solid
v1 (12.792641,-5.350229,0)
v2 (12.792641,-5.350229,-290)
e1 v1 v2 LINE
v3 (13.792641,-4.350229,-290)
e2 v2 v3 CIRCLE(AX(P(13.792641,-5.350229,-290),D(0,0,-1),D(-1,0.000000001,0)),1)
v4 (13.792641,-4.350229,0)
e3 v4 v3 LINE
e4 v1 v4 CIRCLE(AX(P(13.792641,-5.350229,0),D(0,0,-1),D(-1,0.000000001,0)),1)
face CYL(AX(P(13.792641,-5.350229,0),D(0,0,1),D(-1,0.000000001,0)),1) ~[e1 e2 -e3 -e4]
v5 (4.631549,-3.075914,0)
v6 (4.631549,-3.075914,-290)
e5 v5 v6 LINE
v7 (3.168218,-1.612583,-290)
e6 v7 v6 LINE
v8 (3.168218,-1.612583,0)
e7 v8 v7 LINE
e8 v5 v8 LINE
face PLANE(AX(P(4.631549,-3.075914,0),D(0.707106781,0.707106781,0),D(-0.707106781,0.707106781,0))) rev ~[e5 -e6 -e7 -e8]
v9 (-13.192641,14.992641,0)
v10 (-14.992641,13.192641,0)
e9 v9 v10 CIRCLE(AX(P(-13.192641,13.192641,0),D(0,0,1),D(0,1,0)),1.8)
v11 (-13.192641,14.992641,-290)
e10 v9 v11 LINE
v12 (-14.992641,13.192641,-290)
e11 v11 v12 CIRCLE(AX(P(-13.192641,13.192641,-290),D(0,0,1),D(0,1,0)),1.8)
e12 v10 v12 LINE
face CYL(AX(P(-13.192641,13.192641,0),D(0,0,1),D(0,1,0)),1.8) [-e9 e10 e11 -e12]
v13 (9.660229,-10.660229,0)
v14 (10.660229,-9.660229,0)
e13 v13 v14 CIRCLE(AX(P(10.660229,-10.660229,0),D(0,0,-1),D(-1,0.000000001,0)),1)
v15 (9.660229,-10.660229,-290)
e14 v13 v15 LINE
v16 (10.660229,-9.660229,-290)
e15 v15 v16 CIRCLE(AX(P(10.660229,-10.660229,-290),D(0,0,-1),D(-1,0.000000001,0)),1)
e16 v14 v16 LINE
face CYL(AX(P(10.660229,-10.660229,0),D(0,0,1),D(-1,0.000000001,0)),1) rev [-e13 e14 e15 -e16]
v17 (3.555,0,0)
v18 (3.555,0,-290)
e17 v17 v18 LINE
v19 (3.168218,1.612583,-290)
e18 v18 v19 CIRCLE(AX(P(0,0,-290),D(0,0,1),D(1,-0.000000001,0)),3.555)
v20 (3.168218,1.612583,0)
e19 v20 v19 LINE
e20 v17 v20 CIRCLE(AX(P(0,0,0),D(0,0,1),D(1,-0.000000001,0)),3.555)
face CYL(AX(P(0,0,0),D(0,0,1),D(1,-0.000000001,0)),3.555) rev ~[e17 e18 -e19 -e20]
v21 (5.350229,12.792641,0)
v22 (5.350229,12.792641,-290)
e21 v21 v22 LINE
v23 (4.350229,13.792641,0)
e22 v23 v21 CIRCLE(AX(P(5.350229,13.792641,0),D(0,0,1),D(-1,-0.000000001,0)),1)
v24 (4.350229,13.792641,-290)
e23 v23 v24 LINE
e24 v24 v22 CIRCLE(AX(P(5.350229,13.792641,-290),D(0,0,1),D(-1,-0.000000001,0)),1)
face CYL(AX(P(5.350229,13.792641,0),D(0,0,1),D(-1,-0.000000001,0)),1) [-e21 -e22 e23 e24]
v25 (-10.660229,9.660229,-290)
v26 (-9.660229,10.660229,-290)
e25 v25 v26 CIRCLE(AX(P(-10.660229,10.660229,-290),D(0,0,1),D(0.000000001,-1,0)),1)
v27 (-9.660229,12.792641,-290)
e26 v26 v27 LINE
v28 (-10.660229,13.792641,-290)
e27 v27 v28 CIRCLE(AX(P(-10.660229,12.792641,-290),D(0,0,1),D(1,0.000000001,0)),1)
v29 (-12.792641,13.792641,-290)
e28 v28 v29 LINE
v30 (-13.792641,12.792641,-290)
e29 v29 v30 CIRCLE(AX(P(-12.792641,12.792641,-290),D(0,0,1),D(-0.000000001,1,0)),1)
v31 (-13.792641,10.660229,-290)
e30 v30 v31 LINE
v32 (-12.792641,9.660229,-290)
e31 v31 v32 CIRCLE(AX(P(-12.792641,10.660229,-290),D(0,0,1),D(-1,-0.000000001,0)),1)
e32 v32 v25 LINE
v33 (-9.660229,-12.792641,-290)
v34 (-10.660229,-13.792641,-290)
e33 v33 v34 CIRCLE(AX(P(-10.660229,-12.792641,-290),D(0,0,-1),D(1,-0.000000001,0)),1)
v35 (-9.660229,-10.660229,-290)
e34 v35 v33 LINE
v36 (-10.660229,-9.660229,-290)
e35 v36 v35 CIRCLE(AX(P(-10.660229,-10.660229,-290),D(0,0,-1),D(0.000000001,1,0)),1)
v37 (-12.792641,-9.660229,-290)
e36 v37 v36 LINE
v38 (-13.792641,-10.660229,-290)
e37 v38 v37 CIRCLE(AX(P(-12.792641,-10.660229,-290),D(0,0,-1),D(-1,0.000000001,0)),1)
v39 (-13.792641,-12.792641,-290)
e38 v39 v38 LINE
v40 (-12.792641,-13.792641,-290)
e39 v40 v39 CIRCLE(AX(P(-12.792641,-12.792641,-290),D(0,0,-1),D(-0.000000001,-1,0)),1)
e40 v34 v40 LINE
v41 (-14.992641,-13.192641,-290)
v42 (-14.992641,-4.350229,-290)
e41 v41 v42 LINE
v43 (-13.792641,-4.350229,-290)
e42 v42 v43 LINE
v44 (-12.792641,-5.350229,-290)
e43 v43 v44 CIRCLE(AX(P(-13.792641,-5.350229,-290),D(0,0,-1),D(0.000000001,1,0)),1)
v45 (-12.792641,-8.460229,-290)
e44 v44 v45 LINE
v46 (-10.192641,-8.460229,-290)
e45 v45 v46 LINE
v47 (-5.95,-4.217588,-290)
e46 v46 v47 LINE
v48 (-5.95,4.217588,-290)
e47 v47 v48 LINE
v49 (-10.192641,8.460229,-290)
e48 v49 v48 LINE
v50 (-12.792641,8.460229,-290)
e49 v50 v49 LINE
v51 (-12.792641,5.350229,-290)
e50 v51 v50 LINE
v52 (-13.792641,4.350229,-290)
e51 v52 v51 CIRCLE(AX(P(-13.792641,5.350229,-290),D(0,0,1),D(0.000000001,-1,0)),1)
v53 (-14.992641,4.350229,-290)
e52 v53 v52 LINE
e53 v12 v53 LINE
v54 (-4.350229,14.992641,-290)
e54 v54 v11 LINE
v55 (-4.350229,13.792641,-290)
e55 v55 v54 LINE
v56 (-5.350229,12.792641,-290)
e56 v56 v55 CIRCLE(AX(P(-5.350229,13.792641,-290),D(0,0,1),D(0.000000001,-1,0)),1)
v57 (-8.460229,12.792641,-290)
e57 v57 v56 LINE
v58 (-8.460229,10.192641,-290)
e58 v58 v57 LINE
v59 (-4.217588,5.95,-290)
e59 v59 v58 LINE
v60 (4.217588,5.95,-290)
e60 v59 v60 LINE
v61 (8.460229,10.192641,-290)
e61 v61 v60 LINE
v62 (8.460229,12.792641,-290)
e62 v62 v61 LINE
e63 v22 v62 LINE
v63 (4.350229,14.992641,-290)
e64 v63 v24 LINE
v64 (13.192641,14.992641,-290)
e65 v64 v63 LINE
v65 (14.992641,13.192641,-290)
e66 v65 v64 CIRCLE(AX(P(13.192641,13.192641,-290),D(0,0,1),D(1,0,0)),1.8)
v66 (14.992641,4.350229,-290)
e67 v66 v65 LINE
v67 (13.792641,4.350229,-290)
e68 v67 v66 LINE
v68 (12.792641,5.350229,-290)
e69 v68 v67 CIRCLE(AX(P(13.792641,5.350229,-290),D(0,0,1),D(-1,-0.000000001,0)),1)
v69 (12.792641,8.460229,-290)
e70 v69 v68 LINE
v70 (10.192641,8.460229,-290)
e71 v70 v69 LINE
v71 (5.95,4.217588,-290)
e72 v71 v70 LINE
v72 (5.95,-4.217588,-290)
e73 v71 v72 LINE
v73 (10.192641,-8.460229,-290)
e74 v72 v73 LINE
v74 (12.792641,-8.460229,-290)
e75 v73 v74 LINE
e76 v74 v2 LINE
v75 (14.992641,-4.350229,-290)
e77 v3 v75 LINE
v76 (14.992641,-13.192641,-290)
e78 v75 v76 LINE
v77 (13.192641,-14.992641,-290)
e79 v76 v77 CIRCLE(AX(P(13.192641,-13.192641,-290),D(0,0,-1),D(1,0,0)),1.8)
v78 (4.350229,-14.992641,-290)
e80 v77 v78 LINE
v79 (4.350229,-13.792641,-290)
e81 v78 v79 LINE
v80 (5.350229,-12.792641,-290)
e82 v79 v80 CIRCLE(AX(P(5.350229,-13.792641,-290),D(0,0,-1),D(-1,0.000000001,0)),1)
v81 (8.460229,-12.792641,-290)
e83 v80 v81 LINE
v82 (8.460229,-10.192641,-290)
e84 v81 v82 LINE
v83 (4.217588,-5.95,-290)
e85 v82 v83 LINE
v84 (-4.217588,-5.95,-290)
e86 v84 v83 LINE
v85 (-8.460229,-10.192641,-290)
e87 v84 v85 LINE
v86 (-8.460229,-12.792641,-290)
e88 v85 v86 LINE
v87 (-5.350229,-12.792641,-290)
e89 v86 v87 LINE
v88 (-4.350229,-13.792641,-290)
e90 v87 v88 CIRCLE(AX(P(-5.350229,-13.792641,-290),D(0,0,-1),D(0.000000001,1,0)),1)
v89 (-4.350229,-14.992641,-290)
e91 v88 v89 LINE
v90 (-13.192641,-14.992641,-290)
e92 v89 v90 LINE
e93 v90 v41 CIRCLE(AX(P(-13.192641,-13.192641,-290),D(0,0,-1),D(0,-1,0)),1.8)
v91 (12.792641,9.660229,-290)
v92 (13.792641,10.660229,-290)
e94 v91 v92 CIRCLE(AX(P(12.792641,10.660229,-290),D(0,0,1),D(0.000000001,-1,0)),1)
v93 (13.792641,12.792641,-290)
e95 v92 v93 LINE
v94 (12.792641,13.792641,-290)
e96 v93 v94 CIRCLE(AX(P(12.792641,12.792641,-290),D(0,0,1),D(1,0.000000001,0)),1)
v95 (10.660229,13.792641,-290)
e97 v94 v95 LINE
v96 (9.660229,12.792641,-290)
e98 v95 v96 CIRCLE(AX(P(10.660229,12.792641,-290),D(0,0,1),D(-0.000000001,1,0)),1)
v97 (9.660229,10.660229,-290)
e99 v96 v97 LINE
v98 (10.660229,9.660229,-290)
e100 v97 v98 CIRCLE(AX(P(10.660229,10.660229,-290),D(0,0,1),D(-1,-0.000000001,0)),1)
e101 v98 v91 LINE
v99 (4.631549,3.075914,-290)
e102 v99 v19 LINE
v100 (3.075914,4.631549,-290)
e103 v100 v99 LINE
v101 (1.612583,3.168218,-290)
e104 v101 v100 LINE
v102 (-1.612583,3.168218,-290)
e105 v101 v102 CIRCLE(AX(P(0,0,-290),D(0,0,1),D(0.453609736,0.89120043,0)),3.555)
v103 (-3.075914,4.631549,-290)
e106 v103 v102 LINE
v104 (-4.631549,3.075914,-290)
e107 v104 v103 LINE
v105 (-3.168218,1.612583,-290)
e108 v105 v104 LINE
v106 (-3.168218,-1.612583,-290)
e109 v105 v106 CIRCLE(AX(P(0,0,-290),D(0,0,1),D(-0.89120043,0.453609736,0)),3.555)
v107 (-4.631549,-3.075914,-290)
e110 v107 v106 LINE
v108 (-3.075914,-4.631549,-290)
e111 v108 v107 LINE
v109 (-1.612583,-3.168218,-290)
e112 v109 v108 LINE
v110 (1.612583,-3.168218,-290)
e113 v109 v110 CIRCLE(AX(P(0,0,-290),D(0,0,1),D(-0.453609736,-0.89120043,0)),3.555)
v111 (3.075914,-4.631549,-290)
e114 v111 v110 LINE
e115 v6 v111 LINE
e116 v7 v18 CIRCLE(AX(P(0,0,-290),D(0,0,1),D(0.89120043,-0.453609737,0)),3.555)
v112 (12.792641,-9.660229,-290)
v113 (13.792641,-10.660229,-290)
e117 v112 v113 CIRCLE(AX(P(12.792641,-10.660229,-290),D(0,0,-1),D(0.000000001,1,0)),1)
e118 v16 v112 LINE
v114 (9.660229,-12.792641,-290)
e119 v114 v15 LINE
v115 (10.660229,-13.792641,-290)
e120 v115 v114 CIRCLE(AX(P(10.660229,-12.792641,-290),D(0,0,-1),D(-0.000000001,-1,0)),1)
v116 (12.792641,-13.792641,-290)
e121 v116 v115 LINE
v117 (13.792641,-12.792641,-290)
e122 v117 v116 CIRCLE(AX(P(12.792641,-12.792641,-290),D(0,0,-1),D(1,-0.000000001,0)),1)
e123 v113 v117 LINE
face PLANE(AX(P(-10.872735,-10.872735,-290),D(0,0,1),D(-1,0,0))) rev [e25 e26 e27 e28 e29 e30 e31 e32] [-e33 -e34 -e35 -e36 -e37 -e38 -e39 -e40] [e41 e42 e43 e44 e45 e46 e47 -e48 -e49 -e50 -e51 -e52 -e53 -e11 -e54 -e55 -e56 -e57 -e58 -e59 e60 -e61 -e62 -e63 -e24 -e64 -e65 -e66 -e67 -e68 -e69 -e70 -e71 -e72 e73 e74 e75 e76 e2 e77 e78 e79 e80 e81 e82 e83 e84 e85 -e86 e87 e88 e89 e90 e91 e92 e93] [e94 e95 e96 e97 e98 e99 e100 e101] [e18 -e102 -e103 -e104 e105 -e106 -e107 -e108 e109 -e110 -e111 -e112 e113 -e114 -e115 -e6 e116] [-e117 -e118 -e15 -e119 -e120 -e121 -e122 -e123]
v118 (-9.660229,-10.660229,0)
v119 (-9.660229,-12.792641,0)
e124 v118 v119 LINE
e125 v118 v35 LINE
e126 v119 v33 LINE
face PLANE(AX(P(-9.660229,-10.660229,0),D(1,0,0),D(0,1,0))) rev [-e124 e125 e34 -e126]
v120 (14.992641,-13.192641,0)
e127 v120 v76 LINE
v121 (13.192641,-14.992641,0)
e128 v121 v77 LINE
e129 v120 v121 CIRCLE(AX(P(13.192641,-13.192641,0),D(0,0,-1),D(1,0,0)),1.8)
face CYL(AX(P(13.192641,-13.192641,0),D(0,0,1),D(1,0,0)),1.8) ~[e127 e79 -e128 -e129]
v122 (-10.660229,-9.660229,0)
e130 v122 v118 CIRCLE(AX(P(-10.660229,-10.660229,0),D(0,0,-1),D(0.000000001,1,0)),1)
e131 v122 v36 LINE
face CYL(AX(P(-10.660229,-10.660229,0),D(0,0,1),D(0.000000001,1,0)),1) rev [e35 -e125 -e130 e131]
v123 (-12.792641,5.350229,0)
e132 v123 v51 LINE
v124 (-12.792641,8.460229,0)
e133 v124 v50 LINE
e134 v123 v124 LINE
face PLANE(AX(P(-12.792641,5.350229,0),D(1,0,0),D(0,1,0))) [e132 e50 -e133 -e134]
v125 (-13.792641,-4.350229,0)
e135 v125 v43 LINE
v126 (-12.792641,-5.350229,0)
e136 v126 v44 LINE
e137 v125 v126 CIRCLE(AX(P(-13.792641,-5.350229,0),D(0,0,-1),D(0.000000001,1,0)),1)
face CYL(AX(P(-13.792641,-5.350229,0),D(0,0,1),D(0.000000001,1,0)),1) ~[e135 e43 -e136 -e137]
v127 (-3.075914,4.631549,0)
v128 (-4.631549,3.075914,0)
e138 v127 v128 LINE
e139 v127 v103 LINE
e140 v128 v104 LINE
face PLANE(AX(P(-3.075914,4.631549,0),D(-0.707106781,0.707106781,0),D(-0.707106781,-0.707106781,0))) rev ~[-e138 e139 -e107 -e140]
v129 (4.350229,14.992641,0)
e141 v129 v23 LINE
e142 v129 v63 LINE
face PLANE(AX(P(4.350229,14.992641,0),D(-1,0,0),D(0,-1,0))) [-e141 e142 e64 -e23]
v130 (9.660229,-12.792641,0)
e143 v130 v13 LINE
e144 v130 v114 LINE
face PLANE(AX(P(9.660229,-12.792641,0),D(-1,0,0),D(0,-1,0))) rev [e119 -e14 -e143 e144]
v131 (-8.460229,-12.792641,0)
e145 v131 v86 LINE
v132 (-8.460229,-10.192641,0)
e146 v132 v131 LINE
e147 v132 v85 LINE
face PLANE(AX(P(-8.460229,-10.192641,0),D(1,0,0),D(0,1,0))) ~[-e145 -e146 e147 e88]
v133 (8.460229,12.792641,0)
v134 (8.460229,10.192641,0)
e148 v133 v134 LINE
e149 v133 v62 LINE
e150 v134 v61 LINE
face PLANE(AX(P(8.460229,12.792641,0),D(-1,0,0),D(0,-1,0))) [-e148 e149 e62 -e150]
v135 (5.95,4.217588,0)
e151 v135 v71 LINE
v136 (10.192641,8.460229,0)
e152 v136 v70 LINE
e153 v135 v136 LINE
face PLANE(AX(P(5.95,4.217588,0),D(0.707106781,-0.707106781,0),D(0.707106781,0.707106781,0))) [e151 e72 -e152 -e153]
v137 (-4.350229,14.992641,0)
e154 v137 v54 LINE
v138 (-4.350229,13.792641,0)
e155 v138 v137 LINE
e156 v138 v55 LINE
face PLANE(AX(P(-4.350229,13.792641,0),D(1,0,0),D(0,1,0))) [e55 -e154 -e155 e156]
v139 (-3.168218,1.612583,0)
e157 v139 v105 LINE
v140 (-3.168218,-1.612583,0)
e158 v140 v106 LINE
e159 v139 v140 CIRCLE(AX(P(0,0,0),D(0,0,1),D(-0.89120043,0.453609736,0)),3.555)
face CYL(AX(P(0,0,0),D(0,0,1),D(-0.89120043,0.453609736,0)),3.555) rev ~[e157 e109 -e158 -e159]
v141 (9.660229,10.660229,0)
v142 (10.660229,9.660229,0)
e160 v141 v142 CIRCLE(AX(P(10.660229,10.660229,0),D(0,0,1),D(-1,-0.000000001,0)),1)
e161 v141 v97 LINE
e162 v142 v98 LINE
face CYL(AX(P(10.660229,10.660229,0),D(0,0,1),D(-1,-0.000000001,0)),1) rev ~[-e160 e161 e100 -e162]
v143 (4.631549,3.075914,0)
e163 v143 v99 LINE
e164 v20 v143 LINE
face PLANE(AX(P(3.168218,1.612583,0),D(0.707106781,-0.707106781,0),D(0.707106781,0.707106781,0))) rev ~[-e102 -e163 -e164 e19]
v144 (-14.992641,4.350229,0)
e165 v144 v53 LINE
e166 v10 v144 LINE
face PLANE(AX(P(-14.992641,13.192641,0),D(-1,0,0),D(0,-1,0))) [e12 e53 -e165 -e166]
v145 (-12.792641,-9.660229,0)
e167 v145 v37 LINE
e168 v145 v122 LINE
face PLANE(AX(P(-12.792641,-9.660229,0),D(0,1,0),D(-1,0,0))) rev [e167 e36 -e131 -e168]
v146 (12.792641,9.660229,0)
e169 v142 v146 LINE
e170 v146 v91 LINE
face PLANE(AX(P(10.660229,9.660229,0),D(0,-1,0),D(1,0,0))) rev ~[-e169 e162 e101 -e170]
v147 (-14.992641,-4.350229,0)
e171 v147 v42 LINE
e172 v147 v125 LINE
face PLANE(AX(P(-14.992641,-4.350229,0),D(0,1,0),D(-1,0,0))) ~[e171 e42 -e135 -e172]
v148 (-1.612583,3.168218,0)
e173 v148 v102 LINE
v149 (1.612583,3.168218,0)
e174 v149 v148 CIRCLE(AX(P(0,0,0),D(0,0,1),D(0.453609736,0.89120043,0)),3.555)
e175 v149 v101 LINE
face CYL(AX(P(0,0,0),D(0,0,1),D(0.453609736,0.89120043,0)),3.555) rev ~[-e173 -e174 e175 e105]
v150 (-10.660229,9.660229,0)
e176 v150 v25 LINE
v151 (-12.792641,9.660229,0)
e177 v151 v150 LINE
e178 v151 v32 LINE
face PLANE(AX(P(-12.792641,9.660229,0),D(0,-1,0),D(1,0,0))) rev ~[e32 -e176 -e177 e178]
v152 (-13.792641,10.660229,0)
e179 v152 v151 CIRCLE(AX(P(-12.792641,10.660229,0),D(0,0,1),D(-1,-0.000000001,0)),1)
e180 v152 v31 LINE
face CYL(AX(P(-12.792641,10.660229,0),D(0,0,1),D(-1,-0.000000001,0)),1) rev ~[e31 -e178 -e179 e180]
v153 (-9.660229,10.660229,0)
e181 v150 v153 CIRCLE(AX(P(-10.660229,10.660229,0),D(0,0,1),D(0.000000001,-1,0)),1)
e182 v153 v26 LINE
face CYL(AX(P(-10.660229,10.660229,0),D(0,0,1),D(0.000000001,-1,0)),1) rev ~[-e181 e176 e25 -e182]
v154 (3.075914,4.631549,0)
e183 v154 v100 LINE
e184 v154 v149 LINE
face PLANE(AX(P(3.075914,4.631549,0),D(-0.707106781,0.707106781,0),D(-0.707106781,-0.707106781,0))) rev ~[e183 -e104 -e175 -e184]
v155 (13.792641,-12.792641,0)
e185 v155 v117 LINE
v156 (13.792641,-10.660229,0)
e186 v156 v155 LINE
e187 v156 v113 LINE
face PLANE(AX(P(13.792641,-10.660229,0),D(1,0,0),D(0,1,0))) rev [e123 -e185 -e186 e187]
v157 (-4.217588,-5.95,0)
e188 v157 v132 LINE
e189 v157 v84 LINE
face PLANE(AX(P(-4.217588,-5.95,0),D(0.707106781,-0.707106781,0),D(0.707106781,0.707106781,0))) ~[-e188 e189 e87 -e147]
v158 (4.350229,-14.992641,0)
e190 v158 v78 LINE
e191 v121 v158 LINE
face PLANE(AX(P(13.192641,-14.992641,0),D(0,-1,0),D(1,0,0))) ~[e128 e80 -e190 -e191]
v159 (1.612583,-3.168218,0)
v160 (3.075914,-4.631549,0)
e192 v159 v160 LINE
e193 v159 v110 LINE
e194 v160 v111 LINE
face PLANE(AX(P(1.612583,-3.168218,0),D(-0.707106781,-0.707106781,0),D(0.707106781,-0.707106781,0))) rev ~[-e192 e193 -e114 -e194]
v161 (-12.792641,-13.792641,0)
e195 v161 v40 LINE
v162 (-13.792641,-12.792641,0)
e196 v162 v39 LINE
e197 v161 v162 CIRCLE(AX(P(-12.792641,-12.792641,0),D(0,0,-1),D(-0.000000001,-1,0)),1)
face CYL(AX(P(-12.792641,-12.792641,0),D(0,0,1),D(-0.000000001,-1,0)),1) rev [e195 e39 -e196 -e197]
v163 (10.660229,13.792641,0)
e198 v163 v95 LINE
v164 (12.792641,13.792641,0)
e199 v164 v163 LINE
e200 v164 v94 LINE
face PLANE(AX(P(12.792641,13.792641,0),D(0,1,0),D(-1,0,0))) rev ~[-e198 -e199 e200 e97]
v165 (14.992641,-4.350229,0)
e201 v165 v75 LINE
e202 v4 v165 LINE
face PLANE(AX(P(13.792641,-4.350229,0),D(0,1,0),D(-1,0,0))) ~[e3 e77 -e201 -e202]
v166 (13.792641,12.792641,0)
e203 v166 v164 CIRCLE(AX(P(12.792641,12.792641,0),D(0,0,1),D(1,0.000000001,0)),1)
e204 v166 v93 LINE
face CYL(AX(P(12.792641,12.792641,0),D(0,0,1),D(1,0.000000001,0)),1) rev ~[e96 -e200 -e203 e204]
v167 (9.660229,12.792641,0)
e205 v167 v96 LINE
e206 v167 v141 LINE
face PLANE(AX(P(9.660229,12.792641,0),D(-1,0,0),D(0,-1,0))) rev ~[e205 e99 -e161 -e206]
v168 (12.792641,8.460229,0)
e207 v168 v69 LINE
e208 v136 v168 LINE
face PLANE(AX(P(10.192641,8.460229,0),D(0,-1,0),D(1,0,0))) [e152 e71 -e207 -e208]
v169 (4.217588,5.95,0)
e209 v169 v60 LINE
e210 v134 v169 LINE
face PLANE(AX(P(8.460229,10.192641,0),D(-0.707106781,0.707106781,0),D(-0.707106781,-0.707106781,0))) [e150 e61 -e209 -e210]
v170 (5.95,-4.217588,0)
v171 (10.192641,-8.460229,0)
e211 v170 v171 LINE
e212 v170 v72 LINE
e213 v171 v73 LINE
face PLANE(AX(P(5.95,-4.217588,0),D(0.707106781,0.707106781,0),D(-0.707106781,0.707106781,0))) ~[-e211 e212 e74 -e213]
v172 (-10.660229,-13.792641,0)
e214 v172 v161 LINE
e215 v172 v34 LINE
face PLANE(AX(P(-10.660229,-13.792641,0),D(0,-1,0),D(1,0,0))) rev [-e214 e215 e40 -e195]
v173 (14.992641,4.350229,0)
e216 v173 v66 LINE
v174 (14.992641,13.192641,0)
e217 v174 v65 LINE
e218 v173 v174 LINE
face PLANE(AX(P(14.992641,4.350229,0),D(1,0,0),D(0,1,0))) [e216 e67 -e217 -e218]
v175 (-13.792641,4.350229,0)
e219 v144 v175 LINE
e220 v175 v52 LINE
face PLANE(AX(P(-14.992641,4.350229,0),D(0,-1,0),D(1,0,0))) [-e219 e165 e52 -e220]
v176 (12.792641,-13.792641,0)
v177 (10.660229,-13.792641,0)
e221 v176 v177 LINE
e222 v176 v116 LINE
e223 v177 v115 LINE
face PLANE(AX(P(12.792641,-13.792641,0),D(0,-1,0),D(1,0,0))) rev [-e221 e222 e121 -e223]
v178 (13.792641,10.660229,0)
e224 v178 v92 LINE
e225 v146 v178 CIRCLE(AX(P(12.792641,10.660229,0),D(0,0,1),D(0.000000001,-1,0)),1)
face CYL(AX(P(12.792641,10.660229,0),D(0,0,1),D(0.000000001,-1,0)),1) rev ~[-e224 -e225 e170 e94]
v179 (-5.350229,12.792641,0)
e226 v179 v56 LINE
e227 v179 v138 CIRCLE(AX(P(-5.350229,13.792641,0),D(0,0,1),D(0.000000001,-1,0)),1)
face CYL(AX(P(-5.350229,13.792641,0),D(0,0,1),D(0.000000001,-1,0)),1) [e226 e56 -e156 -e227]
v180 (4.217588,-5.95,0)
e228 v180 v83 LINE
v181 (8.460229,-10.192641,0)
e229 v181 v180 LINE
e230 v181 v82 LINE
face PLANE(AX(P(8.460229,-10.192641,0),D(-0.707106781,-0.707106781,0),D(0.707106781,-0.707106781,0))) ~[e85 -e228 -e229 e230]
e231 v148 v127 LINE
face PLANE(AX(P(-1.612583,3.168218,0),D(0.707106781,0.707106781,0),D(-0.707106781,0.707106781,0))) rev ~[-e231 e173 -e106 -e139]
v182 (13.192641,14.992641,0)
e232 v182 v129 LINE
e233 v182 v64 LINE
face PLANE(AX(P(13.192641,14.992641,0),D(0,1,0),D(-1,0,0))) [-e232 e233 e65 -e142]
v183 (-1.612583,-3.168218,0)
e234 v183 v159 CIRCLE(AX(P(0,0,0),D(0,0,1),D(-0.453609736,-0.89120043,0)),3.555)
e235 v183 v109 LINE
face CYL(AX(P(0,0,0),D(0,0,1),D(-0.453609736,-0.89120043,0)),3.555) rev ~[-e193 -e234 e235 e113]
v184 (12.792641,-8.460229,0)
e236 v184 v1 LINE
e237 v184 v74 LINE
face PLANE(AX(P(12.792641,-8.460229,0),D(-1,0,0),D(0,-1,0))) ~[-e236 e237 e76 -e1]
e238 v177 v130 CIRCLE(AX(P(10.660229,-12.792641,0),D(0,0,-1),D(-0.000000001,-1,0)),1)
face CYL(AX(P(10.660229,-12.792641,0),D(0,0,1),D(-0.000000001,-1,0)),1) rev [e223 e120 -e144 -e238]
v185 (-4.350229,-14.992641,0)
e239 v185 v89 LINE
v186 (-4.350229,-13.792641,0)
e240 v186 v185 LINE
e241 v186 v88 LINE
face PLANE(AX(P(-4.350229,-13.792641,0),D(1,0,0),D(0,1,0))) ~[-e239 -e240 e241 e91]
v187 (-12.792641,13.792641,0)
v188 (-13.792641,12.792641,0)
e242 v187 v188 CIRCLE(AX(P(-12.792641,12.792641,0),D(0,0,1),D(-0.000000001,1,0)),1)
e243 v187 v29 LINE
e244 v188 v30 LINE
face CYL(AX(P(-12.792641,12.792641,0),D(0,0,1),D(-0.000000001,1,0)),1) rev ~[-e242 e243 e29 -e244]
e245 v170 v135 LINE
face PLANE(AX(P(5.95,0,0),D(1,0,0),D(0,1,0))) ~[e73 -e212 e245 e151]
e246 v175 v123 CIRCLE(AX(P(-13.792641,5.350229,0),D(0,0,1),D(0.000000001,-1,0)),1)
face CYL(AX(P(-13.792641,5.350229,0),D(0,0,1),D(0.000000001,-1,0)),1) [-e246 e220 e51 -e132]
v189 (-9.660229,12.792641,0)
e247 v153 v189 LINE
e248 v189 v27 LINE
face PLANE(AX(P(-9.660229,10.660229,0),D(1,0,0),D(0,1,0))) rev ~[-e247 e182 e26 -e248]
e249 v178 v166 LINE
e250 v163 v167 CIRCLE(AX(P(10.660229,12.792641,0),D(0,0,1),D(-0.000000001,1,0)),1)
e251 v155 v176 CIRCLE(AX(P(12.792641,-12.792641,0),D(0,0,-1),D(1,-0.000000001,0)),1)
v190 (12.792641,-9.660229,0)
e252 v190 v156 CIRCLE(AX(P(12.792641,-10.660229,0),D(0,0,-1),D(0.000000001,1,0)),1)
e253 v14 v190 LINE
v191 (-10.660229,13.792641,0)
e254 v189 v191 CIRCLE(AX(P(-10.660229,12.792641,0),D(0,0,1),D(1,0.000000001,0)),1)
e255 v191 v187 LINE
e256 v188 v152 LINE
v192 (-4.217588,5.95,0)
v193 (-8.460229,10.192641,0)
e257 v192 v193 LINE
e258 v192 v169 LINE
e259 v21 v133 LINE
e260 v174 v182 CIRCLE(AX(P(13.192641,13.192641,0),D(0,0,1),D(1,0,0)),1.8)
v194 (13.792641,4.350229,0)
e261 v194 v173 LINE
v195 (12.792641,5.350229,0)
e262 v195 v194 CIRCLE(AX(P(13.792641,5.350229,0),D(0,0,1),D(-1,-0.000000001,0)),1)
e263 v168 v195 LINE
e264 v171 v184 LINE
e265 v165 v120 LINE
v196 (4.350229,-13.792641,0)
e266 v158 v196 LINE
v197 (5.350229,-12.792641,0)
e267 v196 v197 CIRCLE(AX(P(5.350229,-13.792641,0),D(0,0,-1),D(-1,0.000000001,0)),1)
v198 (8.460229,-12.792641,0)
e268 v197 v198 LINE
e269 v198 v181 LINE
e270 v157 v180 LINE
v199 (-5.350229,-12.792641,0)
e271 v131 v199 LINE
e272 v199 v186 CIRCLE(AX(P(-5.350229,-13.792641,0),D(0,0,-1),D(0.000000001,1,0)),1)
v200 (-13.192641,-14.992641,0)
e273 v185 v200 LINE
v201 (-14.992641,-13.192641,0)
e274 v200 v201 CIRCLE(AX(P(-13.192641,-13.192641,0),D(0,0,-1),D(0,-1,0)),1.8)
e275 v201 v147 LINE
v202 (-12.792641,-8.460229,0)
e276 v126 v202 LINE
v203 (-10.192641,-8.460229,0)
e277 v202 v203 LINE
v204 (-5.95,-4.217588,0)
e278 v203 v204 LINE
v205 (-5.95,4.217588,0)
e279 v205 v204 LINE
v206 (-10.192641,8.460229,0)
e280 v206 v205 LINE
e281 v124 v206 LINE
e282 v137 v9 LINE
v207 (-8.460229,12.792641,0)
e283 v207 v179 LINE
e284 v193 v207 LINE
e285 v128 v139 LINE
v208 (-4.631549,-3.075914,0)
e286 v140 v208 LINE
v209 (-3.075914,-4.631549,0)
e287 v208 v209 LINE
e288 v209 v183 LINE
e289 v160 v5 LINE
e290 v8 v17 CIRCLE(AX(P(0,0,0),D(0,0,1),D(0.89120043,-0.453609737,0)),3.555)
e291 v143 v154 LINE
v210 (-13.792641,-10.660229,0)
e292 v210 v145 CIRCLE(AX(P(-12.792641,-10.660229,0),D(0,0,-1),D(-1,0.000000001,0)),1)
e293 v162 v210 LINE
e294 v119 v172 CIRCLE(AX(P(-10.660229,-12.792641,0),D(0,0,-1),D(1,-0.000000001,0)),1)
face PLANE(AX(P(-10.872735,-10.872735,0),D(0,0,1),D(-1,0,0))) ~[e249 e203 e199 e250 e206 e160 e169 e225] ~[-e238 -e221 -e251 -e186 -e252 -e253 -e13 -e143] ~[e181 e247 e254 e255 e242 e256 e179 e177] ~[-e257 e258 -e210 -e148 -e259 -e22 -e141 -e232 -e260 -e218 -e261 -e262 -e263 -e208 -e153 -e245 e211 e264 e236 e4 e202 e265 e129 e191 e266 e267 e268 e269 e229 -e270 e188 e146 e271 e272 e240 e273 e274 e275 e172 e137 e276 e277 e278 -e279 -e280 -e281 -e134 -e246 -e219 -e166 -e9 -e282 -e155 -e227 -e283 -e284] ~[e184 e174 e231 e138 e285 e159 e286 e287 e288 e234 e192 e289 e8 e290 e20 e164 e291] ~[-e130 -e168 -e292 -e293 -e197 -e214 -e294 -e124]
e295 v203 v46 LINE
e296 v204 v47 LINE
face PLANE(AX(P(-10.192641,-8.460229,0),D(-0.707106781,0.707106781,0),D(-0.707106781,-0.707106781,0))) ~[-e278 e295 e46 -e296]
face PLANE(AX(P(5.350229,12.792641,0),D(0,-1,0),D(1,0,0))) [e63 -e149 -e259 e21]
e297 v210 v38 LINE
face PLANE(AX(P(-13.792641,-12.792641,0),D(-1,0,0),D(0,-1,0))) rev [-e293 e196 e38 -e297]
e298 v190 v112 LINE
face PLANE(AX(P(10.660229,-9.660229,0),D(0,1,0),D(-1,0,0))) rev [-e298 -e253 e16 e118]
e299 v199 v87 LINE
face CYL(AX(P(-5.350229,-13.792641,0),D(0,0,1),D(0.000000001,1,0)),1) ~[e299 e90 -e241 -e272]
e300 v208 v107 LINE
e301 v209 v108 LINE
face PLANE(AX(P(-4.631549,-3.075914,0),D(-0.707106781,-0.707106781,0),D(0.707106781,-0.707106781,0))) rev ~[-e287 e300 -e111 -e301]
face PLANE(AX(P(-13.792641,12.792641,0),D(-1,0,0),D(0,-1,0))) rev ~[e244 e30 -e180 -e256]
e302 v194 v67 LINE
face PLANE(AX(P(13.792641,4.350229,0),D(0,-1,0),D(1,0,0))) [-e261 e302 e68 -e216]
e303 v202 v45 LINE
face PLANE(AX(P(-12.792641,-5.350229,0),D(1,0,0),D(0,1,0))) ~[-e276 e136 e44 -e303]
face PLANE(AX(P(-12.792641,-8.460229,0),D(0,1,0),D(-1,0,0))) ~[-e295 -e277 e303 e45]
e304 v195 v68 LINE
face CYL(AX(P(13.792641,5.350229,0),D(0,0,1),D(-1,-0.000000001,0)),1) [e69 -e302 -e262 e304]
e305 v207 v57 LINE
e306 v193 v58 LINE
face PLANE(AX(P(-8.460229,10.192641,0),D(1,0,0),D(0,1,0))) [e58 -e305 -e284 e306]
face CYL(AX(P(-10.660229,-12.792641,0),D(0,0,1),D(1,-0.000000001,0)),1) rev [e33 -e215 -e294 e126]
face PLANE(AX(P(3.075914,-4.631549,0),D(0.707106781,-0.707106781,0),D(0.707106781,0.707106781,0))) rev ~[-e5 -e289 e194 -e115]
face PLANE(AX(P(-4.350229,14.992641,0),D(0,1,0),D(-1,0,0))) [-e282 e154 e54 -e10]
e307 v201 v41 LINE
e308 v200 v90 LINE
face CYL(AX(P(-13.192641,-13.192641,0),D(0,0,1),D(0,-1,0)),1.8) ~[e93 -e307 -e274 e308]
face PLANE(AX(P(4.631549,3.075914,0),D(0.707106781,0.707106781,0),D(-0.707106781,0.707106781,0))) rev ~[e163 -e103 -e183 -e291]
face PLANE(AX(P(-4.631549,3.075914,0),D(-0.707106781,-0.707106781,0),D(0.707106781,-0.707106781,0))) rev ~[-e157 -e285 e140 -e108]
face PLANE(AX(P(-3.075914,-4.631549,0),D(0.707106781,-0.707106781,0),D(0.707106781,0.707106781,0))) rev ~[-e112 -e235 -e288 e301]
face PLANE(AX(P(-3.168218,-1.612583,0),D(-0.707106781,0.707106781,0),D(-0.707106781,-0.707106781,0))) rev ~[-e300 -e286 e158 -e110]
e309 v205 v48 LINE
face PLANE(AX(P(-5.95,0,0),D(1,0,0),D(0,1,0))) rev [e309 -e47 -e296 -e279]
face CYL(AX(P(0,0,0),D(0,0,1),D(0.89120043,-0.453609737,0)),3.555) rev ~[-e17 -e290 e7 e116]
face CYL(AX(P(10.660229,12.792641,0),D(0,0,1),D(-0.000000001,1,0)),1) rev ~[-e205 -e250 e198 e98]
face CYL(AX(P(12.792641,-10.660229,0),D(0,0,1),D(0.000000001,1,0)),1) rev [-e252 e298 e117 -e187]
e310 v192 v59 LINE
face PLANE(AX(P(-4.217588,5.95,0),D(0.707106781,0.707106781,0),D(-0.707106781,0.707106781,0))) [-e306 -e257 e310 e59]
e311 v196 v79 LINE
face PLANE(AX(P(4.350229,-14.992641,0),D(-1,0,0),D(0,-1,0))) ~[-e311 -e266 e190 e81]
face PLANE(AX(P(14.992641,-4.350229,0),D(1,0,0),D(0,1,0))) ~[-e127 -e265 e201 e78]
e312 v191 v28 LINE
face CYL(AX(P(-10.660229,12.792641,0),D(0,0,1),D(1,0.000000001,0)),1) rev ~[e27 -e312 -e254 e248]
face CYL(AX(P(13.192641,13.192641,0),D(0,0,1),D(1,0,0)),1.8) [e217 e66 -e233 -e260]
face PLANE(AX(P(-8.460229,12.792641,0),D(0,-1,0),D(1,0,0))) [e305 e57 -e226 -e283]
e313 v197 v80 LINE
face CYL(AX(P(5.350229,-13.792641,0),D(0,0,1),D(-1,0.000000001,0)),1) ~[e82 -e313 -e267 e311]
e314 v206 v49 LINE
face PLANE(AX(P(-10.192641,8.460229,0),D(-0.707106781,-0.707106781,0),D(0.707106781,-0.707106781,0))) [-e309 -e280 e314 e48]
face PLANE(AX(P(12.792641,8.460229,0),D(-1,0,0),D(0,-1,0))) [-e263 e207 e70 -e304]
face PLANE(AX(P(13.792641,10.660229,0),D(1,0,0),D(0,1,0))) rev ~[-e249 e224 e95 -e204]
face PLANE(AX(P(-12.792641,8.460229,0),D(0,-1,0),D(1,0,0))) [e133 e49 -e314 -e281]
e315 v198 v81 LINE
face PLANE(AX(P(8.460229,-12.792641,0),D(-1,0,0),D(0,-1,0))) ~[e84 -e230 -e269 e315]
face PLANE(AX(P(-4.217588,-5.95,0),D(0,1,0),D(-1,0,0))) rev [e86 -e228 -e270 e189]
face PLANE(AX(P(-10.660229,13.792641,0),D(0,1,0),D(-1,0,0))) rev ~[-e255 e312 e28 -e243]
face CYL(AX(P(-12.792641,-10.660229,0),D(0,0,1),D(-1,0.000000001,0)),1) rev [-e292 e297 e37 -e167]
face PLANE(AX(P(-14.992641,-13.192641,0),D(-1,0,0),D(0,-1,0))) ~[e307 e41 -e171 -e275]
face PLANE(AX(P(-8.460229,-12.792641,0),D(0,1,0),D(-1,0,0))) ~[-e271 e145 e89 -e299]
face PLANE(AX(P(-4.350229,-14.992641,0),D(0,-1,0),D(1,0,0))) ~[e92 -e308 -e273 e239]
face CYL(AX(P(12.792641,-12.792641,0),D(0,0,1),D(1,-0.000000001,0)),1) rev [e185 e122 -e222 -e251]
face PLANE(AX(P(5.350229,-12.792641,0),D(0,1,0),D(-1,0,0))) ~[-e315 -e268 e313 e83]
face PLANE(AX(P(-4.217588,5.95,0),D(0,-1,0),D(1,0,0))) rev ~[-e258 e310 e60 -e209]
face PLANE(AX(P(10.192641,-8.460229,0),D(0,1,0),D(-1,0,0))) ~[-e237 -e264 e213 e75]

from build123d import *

# Parameters (mm, degrees)
SKETCH1_W           = 11.9
SKETCH1_H           = 5.95
BOSS_EXTRUDE1_DEPTH = 290
CUT_EXTRUDE1_DEPTH  = 291


with BuildPart() as part:
    # Sketch1 → Boss-Extrude1 (new body)
    with BuildSketch(Plane.XY):
        with BuildLine():
            Line((-4.350229073, 14.992640687), (-13.192640687, 14.992640687))
            ThreePointArc((-13.192640687, 14.992640687), (-14.465432893, 14.465432893), (-14.992640687, 13.192640687))
            Line((-14.992640687, 13.192640687), (-14.992640687, 4.350229073))
            Line((-14.992640687, 4.350229073), (-13.792640687, 4.350229073))
            ThreePointArc((-13.792640687, 4.350229073), (-13.085533906, 4.643122292), (-12.792640687, 5.350229073))
            Line((-12.792640687, 5.350229073), (-12.792640687, 8.460229073))
            Line((-12.792640687, 8.460229073), (-8.460229073, 8.460229073))
            Line((-8.460229073, 8.460229073), (-8.460229073, 12.792640687))
            Line((-8.460229073, 12.792640687), (-5.350229073, 12.792640687))
            ThreePointArc((-5.350229073, 12.792640687), (-4.643122292, 13.085533906), (-4.350229073, 13.792640687))
            Line((-4.350229073, 13.792640687), (-4.350229073, 14.992640687))
        make_face()
        with BuildLine():
            Line((-10.660229073, 13.792640687), (-12.792640687, 13.792640687))
            ThreePointArc((-12.792640687, 13.792640687), (-13.499747468, 13.499747468), (-13.792640687, 12.792640687))
            Line((-13.792640687, 12.792640687), (-13.792640687, 10.660229073))
            ThreePointArc((-13.792640687, 10.660229073), (-13.499747468, 9.953122292), (-12.792640687, 9.660229073))
            Line((-12.792640687, 9.660229073), (-10.660229073, 9.660229073))
            ThreePointArc((-10.660229073, 9.660229073), (-9.953122292, 9.953122292), (-9.660229073, 10.660229073))
            Line((-9.660229073, 10.660229073), (-9.660229073, 12.792640687))
            ThreePointArc((-9.660229073, 12.792640687), (-9.953122292, 13.499747468), (-10.660229073, 13.792640687))
        make_face(mode=Mode.SUBTRACT)
        Polygon((-5.95, 4.217588386), (-5.95, 5.95), (-4.217588386, 5.95), (-8.460229073, 10.192640687), (-8.460229073, 8.460229073), (-10.192640687, 8.460229073), align=None)
        with Locations((0, 2.975)):
            Rectangle(SKETCH1_W, SKETCH1_H)
        Polygon((8.460229073, 10.192640687), (4.217588386, 5.95), (5.95, 5.95), (5.95, 4.217588386), (10.192640687, 8.460229073), (8.460229073, 8.460229073), align=None)
        with BuildLine():
            Line((12.792640687, 8.460229073), (12.792640687, 5.350229073))
            ThreePointArc((12.792640687, 5.350229073), (13.085533906, 4.643122292), (13.792640687, 4.350229073))
            Line((13.792640687, 4.350229073), (14.992640687, 4.350229073))
            Line((14.992640687, 4.350229073), (14.992640687, 13.192640687))
            ThreePointArc((14.992640687, 13.192640687), (14.465432893, 14.465432893), (13.192640687, 14.992640687))
            Line((13.192640687, 14.992640687), (4.350229073, 14.992640687))
            Line((4.350229073, 14.992640687), (4.350229073, 13.792640687))
            ThreePointArc((4.350229073, 13.792640687), (4.643122292, 13.085533906), (5.350229073, 12.792640687))
            Line((5.350229073, 12.792640687), (8.460229073, 12.792640687))
            Line((8.460229073, 12.792640687), (8.460229073, 8.460229073))
            Line((8.460229073, 8.460229073), (12.792640687, 8.460229073))
        make_face()
        with BuildLine():
            ThreePointArc((9.660229073, 10.660229073), (9.953122292, 9.953122292), (10.660229073, 9.660229073))
            Line((10.660229073, 9.660229073), (12.792640687, 9.660229073))
            ThreePointArc((12.792640687, 9.660229073), (13.499747468, 9.953122292), (13.792640687, 10.660229073))
            Line((13.792640687, 10.660229073), (13.792640687, 12.792640687))
            ThreePointArc((13.792640687, 12.792640687), (13.499747468, 13.499747468), (12.792640687, 13.792640687))
            Line((12.792640687, 13.792640687), (10.660229073, 13.792640687))
            ThreePointArc((10.660229073, 13.792640687), (9.953122292, 13.499747468), (9.660229073, 12.792640687))
            Line((9.660229073, 12.792640687), (9.660229073, 10.660229073))
        make_face(mode=Mode.SUBTRACT)
    extrude(amount=-BOSS_EXTRUDE1_DEPTH)

    # Mirror1: part across plane


with BuildPart() as part_1:
    add(part.part)
    add(part.part.mirror(Plane(origin=(0, 0, -290), x_dir=(0, 0, 1), z_dir=(0, -1, 0))))

    # Sketch2 → Cut-Extrude1 (cut, through all)
    with BuildSketch(Plane.XY):
        with BuildLine():
            Line((-4.631549417, 3.075914498), (-3.16821753, 1.612582612))
            ThreePointArc((-3.16821753, 1.612582612), (-2.513764607, 2.513764607), (-1.612582612, 3.16821753))
            Line((-1.612582612, 3.16821753), (-3.075914498, 4.631549417))
            Line((-3.075914498, 4.631549417), (-4.631549417, 3.075914498))
        make_face()
        with BuildLine():
            Line((-3.16821753, 1.612582612), (-1.555634919, 0))
            Line((-1.555634919, 0), (0, 1.555634919))
            Line((0, 1.555634919), (-1.612582612, 3.16821753))
            ThreePointArc((-1.612582612, 3.16821753), (-2.513764607, 2.513764607), (-3.16821753, 1.612582612))
        make_face()
        with BuildLine():
            ThreePointArc((-3.16821753, 1.612582612), (-3.555, 0), (-3.16821753, -1.612582612))
            Line((-3.16821753, -1.612582612), (-1.555634919, 0))
            Line((-1.555634919, 0), (-3.16821753, 1.612582612))
        make_face()
        with BuildLine():
            Line((-4.631549417, -3.075914498), (-3.075914498, -4.631549417))
            Line((-3.075914498, -4.631549417), (-1.612582612, -3.16821753))
            ThreePointArc((-1.612582612, -3.16821753), (-2.513764607, -2.513764607), (-3.16821753, -1.612582612))
            Line((-3.16821753, -1.612582612), (-4.631549417, -3.075914498))
        make_face()
        with BuildLine():
            ThreePointArc((-3.16821753, -1.612582612), (-2.513764607, -2.513764607), (-1.612582612, -3.16821753))
            Line((-1.612582612, -3.16821753), (0, -1.555634919))
            Line((0, -1.555634919), (-1.555634919, 0))
            Line((-1.555634919, 0), (-3.16821753, -1.612582612))
        make_face()
        with BuildLine():
            Line((0, -1.555634919), (-1.612582612, -3.16821753))
            ThreePointArc((-1.612582612, -3.16821753), (0, -3.555), (1.612582612, -3.16821753))
            Line((1.612582612, -3.16821753), (0, -1.555634919))
        make_face()
        with BuildLine():
            Line((1.555634919, 0), (0, -1.555634919))
            Line((0, -1.555634919), (1.612582612, -3.16821753))
            ThreePointArc((1.612582612, -3.16821753), (2.513764607, -2.513764607), (3.16821753, -1.612582612))
            Line((3.16821753, -1.612582612), (1.555634919, 0))
        make_face()
        with BuildLine():
            Line((3.16821753, 1.612582612), (1.555634919, 0))
            Line((1.555634919, 0), (3.16821753, -1.612582612))
            ThreePointArc((3.16821753, -1.612582612), (3.456952294, -0.829159719), (3.555, 0))
            ThreePointArc((3.555, 0), (3.456952294, 0.829159719), (3.16821753, 1.612582612))
        make_face()
        Polygon((-1.555634919, 0), (0, -1.555634919), (1.555634919, 0), (0, 1.555634919), align=None)
        with BuildLine():
            Line((0, 1.555634919), (1.555634919, 0))
            Line((1.555634919, 0), (3.16821753, 1.612582612))
            ThreePointArc((3.16821753, 1.612582612), (2.513764607, 2.513764607), (1.612582612, 3.16821753))
            Line((1.612582612, 3.16821753), (0, 1.555634919))
        make_face()
        with BuildLine():
            Line((-1.612582612, 3.16821753), (0, 1.555634919))
            Line((0, 1.555634919), (1.612582612, 3.16821753))
            ThreePointArc((1.612582612, 3.16821753), (0, 3.555), (-1.612582612, 3.16821753))
        make_face()
        with BuildLine():
            ThreePointArc((1.612582612, 3.16821753), (2.513764607, 2.513764607), (3.16821753, 1.612582612))
            Line((3.16821753, 1.612582612), (4.631549417, 3.075914498))
            Line((4.631549417, 3.075914498), (3.075914498, 4.631549417))
            Line((3.075914498, 4.631549417), (1.612582612, 3.16821753))
        make_face()
        with BuildLine():
            ThreePointArc((3.16821753, -1.612582612), (2.513764607, -2.513764607), (1.612582612, -3.16821753))
            Line((1.612582612, -3.16821753), (3.075914498, -4.631549417))
            Line((3.075914498, -4.631549417), (4.631549417, -3.075914498))
            Line((4.631549417, -3.075914498), (3.16821753, -1.612582612))
        make_face()
    extrude(amount=-CUT_EXTRUDE1_DEPTH, mode=Mode.SUBTRACT)


solid = part_1.part
